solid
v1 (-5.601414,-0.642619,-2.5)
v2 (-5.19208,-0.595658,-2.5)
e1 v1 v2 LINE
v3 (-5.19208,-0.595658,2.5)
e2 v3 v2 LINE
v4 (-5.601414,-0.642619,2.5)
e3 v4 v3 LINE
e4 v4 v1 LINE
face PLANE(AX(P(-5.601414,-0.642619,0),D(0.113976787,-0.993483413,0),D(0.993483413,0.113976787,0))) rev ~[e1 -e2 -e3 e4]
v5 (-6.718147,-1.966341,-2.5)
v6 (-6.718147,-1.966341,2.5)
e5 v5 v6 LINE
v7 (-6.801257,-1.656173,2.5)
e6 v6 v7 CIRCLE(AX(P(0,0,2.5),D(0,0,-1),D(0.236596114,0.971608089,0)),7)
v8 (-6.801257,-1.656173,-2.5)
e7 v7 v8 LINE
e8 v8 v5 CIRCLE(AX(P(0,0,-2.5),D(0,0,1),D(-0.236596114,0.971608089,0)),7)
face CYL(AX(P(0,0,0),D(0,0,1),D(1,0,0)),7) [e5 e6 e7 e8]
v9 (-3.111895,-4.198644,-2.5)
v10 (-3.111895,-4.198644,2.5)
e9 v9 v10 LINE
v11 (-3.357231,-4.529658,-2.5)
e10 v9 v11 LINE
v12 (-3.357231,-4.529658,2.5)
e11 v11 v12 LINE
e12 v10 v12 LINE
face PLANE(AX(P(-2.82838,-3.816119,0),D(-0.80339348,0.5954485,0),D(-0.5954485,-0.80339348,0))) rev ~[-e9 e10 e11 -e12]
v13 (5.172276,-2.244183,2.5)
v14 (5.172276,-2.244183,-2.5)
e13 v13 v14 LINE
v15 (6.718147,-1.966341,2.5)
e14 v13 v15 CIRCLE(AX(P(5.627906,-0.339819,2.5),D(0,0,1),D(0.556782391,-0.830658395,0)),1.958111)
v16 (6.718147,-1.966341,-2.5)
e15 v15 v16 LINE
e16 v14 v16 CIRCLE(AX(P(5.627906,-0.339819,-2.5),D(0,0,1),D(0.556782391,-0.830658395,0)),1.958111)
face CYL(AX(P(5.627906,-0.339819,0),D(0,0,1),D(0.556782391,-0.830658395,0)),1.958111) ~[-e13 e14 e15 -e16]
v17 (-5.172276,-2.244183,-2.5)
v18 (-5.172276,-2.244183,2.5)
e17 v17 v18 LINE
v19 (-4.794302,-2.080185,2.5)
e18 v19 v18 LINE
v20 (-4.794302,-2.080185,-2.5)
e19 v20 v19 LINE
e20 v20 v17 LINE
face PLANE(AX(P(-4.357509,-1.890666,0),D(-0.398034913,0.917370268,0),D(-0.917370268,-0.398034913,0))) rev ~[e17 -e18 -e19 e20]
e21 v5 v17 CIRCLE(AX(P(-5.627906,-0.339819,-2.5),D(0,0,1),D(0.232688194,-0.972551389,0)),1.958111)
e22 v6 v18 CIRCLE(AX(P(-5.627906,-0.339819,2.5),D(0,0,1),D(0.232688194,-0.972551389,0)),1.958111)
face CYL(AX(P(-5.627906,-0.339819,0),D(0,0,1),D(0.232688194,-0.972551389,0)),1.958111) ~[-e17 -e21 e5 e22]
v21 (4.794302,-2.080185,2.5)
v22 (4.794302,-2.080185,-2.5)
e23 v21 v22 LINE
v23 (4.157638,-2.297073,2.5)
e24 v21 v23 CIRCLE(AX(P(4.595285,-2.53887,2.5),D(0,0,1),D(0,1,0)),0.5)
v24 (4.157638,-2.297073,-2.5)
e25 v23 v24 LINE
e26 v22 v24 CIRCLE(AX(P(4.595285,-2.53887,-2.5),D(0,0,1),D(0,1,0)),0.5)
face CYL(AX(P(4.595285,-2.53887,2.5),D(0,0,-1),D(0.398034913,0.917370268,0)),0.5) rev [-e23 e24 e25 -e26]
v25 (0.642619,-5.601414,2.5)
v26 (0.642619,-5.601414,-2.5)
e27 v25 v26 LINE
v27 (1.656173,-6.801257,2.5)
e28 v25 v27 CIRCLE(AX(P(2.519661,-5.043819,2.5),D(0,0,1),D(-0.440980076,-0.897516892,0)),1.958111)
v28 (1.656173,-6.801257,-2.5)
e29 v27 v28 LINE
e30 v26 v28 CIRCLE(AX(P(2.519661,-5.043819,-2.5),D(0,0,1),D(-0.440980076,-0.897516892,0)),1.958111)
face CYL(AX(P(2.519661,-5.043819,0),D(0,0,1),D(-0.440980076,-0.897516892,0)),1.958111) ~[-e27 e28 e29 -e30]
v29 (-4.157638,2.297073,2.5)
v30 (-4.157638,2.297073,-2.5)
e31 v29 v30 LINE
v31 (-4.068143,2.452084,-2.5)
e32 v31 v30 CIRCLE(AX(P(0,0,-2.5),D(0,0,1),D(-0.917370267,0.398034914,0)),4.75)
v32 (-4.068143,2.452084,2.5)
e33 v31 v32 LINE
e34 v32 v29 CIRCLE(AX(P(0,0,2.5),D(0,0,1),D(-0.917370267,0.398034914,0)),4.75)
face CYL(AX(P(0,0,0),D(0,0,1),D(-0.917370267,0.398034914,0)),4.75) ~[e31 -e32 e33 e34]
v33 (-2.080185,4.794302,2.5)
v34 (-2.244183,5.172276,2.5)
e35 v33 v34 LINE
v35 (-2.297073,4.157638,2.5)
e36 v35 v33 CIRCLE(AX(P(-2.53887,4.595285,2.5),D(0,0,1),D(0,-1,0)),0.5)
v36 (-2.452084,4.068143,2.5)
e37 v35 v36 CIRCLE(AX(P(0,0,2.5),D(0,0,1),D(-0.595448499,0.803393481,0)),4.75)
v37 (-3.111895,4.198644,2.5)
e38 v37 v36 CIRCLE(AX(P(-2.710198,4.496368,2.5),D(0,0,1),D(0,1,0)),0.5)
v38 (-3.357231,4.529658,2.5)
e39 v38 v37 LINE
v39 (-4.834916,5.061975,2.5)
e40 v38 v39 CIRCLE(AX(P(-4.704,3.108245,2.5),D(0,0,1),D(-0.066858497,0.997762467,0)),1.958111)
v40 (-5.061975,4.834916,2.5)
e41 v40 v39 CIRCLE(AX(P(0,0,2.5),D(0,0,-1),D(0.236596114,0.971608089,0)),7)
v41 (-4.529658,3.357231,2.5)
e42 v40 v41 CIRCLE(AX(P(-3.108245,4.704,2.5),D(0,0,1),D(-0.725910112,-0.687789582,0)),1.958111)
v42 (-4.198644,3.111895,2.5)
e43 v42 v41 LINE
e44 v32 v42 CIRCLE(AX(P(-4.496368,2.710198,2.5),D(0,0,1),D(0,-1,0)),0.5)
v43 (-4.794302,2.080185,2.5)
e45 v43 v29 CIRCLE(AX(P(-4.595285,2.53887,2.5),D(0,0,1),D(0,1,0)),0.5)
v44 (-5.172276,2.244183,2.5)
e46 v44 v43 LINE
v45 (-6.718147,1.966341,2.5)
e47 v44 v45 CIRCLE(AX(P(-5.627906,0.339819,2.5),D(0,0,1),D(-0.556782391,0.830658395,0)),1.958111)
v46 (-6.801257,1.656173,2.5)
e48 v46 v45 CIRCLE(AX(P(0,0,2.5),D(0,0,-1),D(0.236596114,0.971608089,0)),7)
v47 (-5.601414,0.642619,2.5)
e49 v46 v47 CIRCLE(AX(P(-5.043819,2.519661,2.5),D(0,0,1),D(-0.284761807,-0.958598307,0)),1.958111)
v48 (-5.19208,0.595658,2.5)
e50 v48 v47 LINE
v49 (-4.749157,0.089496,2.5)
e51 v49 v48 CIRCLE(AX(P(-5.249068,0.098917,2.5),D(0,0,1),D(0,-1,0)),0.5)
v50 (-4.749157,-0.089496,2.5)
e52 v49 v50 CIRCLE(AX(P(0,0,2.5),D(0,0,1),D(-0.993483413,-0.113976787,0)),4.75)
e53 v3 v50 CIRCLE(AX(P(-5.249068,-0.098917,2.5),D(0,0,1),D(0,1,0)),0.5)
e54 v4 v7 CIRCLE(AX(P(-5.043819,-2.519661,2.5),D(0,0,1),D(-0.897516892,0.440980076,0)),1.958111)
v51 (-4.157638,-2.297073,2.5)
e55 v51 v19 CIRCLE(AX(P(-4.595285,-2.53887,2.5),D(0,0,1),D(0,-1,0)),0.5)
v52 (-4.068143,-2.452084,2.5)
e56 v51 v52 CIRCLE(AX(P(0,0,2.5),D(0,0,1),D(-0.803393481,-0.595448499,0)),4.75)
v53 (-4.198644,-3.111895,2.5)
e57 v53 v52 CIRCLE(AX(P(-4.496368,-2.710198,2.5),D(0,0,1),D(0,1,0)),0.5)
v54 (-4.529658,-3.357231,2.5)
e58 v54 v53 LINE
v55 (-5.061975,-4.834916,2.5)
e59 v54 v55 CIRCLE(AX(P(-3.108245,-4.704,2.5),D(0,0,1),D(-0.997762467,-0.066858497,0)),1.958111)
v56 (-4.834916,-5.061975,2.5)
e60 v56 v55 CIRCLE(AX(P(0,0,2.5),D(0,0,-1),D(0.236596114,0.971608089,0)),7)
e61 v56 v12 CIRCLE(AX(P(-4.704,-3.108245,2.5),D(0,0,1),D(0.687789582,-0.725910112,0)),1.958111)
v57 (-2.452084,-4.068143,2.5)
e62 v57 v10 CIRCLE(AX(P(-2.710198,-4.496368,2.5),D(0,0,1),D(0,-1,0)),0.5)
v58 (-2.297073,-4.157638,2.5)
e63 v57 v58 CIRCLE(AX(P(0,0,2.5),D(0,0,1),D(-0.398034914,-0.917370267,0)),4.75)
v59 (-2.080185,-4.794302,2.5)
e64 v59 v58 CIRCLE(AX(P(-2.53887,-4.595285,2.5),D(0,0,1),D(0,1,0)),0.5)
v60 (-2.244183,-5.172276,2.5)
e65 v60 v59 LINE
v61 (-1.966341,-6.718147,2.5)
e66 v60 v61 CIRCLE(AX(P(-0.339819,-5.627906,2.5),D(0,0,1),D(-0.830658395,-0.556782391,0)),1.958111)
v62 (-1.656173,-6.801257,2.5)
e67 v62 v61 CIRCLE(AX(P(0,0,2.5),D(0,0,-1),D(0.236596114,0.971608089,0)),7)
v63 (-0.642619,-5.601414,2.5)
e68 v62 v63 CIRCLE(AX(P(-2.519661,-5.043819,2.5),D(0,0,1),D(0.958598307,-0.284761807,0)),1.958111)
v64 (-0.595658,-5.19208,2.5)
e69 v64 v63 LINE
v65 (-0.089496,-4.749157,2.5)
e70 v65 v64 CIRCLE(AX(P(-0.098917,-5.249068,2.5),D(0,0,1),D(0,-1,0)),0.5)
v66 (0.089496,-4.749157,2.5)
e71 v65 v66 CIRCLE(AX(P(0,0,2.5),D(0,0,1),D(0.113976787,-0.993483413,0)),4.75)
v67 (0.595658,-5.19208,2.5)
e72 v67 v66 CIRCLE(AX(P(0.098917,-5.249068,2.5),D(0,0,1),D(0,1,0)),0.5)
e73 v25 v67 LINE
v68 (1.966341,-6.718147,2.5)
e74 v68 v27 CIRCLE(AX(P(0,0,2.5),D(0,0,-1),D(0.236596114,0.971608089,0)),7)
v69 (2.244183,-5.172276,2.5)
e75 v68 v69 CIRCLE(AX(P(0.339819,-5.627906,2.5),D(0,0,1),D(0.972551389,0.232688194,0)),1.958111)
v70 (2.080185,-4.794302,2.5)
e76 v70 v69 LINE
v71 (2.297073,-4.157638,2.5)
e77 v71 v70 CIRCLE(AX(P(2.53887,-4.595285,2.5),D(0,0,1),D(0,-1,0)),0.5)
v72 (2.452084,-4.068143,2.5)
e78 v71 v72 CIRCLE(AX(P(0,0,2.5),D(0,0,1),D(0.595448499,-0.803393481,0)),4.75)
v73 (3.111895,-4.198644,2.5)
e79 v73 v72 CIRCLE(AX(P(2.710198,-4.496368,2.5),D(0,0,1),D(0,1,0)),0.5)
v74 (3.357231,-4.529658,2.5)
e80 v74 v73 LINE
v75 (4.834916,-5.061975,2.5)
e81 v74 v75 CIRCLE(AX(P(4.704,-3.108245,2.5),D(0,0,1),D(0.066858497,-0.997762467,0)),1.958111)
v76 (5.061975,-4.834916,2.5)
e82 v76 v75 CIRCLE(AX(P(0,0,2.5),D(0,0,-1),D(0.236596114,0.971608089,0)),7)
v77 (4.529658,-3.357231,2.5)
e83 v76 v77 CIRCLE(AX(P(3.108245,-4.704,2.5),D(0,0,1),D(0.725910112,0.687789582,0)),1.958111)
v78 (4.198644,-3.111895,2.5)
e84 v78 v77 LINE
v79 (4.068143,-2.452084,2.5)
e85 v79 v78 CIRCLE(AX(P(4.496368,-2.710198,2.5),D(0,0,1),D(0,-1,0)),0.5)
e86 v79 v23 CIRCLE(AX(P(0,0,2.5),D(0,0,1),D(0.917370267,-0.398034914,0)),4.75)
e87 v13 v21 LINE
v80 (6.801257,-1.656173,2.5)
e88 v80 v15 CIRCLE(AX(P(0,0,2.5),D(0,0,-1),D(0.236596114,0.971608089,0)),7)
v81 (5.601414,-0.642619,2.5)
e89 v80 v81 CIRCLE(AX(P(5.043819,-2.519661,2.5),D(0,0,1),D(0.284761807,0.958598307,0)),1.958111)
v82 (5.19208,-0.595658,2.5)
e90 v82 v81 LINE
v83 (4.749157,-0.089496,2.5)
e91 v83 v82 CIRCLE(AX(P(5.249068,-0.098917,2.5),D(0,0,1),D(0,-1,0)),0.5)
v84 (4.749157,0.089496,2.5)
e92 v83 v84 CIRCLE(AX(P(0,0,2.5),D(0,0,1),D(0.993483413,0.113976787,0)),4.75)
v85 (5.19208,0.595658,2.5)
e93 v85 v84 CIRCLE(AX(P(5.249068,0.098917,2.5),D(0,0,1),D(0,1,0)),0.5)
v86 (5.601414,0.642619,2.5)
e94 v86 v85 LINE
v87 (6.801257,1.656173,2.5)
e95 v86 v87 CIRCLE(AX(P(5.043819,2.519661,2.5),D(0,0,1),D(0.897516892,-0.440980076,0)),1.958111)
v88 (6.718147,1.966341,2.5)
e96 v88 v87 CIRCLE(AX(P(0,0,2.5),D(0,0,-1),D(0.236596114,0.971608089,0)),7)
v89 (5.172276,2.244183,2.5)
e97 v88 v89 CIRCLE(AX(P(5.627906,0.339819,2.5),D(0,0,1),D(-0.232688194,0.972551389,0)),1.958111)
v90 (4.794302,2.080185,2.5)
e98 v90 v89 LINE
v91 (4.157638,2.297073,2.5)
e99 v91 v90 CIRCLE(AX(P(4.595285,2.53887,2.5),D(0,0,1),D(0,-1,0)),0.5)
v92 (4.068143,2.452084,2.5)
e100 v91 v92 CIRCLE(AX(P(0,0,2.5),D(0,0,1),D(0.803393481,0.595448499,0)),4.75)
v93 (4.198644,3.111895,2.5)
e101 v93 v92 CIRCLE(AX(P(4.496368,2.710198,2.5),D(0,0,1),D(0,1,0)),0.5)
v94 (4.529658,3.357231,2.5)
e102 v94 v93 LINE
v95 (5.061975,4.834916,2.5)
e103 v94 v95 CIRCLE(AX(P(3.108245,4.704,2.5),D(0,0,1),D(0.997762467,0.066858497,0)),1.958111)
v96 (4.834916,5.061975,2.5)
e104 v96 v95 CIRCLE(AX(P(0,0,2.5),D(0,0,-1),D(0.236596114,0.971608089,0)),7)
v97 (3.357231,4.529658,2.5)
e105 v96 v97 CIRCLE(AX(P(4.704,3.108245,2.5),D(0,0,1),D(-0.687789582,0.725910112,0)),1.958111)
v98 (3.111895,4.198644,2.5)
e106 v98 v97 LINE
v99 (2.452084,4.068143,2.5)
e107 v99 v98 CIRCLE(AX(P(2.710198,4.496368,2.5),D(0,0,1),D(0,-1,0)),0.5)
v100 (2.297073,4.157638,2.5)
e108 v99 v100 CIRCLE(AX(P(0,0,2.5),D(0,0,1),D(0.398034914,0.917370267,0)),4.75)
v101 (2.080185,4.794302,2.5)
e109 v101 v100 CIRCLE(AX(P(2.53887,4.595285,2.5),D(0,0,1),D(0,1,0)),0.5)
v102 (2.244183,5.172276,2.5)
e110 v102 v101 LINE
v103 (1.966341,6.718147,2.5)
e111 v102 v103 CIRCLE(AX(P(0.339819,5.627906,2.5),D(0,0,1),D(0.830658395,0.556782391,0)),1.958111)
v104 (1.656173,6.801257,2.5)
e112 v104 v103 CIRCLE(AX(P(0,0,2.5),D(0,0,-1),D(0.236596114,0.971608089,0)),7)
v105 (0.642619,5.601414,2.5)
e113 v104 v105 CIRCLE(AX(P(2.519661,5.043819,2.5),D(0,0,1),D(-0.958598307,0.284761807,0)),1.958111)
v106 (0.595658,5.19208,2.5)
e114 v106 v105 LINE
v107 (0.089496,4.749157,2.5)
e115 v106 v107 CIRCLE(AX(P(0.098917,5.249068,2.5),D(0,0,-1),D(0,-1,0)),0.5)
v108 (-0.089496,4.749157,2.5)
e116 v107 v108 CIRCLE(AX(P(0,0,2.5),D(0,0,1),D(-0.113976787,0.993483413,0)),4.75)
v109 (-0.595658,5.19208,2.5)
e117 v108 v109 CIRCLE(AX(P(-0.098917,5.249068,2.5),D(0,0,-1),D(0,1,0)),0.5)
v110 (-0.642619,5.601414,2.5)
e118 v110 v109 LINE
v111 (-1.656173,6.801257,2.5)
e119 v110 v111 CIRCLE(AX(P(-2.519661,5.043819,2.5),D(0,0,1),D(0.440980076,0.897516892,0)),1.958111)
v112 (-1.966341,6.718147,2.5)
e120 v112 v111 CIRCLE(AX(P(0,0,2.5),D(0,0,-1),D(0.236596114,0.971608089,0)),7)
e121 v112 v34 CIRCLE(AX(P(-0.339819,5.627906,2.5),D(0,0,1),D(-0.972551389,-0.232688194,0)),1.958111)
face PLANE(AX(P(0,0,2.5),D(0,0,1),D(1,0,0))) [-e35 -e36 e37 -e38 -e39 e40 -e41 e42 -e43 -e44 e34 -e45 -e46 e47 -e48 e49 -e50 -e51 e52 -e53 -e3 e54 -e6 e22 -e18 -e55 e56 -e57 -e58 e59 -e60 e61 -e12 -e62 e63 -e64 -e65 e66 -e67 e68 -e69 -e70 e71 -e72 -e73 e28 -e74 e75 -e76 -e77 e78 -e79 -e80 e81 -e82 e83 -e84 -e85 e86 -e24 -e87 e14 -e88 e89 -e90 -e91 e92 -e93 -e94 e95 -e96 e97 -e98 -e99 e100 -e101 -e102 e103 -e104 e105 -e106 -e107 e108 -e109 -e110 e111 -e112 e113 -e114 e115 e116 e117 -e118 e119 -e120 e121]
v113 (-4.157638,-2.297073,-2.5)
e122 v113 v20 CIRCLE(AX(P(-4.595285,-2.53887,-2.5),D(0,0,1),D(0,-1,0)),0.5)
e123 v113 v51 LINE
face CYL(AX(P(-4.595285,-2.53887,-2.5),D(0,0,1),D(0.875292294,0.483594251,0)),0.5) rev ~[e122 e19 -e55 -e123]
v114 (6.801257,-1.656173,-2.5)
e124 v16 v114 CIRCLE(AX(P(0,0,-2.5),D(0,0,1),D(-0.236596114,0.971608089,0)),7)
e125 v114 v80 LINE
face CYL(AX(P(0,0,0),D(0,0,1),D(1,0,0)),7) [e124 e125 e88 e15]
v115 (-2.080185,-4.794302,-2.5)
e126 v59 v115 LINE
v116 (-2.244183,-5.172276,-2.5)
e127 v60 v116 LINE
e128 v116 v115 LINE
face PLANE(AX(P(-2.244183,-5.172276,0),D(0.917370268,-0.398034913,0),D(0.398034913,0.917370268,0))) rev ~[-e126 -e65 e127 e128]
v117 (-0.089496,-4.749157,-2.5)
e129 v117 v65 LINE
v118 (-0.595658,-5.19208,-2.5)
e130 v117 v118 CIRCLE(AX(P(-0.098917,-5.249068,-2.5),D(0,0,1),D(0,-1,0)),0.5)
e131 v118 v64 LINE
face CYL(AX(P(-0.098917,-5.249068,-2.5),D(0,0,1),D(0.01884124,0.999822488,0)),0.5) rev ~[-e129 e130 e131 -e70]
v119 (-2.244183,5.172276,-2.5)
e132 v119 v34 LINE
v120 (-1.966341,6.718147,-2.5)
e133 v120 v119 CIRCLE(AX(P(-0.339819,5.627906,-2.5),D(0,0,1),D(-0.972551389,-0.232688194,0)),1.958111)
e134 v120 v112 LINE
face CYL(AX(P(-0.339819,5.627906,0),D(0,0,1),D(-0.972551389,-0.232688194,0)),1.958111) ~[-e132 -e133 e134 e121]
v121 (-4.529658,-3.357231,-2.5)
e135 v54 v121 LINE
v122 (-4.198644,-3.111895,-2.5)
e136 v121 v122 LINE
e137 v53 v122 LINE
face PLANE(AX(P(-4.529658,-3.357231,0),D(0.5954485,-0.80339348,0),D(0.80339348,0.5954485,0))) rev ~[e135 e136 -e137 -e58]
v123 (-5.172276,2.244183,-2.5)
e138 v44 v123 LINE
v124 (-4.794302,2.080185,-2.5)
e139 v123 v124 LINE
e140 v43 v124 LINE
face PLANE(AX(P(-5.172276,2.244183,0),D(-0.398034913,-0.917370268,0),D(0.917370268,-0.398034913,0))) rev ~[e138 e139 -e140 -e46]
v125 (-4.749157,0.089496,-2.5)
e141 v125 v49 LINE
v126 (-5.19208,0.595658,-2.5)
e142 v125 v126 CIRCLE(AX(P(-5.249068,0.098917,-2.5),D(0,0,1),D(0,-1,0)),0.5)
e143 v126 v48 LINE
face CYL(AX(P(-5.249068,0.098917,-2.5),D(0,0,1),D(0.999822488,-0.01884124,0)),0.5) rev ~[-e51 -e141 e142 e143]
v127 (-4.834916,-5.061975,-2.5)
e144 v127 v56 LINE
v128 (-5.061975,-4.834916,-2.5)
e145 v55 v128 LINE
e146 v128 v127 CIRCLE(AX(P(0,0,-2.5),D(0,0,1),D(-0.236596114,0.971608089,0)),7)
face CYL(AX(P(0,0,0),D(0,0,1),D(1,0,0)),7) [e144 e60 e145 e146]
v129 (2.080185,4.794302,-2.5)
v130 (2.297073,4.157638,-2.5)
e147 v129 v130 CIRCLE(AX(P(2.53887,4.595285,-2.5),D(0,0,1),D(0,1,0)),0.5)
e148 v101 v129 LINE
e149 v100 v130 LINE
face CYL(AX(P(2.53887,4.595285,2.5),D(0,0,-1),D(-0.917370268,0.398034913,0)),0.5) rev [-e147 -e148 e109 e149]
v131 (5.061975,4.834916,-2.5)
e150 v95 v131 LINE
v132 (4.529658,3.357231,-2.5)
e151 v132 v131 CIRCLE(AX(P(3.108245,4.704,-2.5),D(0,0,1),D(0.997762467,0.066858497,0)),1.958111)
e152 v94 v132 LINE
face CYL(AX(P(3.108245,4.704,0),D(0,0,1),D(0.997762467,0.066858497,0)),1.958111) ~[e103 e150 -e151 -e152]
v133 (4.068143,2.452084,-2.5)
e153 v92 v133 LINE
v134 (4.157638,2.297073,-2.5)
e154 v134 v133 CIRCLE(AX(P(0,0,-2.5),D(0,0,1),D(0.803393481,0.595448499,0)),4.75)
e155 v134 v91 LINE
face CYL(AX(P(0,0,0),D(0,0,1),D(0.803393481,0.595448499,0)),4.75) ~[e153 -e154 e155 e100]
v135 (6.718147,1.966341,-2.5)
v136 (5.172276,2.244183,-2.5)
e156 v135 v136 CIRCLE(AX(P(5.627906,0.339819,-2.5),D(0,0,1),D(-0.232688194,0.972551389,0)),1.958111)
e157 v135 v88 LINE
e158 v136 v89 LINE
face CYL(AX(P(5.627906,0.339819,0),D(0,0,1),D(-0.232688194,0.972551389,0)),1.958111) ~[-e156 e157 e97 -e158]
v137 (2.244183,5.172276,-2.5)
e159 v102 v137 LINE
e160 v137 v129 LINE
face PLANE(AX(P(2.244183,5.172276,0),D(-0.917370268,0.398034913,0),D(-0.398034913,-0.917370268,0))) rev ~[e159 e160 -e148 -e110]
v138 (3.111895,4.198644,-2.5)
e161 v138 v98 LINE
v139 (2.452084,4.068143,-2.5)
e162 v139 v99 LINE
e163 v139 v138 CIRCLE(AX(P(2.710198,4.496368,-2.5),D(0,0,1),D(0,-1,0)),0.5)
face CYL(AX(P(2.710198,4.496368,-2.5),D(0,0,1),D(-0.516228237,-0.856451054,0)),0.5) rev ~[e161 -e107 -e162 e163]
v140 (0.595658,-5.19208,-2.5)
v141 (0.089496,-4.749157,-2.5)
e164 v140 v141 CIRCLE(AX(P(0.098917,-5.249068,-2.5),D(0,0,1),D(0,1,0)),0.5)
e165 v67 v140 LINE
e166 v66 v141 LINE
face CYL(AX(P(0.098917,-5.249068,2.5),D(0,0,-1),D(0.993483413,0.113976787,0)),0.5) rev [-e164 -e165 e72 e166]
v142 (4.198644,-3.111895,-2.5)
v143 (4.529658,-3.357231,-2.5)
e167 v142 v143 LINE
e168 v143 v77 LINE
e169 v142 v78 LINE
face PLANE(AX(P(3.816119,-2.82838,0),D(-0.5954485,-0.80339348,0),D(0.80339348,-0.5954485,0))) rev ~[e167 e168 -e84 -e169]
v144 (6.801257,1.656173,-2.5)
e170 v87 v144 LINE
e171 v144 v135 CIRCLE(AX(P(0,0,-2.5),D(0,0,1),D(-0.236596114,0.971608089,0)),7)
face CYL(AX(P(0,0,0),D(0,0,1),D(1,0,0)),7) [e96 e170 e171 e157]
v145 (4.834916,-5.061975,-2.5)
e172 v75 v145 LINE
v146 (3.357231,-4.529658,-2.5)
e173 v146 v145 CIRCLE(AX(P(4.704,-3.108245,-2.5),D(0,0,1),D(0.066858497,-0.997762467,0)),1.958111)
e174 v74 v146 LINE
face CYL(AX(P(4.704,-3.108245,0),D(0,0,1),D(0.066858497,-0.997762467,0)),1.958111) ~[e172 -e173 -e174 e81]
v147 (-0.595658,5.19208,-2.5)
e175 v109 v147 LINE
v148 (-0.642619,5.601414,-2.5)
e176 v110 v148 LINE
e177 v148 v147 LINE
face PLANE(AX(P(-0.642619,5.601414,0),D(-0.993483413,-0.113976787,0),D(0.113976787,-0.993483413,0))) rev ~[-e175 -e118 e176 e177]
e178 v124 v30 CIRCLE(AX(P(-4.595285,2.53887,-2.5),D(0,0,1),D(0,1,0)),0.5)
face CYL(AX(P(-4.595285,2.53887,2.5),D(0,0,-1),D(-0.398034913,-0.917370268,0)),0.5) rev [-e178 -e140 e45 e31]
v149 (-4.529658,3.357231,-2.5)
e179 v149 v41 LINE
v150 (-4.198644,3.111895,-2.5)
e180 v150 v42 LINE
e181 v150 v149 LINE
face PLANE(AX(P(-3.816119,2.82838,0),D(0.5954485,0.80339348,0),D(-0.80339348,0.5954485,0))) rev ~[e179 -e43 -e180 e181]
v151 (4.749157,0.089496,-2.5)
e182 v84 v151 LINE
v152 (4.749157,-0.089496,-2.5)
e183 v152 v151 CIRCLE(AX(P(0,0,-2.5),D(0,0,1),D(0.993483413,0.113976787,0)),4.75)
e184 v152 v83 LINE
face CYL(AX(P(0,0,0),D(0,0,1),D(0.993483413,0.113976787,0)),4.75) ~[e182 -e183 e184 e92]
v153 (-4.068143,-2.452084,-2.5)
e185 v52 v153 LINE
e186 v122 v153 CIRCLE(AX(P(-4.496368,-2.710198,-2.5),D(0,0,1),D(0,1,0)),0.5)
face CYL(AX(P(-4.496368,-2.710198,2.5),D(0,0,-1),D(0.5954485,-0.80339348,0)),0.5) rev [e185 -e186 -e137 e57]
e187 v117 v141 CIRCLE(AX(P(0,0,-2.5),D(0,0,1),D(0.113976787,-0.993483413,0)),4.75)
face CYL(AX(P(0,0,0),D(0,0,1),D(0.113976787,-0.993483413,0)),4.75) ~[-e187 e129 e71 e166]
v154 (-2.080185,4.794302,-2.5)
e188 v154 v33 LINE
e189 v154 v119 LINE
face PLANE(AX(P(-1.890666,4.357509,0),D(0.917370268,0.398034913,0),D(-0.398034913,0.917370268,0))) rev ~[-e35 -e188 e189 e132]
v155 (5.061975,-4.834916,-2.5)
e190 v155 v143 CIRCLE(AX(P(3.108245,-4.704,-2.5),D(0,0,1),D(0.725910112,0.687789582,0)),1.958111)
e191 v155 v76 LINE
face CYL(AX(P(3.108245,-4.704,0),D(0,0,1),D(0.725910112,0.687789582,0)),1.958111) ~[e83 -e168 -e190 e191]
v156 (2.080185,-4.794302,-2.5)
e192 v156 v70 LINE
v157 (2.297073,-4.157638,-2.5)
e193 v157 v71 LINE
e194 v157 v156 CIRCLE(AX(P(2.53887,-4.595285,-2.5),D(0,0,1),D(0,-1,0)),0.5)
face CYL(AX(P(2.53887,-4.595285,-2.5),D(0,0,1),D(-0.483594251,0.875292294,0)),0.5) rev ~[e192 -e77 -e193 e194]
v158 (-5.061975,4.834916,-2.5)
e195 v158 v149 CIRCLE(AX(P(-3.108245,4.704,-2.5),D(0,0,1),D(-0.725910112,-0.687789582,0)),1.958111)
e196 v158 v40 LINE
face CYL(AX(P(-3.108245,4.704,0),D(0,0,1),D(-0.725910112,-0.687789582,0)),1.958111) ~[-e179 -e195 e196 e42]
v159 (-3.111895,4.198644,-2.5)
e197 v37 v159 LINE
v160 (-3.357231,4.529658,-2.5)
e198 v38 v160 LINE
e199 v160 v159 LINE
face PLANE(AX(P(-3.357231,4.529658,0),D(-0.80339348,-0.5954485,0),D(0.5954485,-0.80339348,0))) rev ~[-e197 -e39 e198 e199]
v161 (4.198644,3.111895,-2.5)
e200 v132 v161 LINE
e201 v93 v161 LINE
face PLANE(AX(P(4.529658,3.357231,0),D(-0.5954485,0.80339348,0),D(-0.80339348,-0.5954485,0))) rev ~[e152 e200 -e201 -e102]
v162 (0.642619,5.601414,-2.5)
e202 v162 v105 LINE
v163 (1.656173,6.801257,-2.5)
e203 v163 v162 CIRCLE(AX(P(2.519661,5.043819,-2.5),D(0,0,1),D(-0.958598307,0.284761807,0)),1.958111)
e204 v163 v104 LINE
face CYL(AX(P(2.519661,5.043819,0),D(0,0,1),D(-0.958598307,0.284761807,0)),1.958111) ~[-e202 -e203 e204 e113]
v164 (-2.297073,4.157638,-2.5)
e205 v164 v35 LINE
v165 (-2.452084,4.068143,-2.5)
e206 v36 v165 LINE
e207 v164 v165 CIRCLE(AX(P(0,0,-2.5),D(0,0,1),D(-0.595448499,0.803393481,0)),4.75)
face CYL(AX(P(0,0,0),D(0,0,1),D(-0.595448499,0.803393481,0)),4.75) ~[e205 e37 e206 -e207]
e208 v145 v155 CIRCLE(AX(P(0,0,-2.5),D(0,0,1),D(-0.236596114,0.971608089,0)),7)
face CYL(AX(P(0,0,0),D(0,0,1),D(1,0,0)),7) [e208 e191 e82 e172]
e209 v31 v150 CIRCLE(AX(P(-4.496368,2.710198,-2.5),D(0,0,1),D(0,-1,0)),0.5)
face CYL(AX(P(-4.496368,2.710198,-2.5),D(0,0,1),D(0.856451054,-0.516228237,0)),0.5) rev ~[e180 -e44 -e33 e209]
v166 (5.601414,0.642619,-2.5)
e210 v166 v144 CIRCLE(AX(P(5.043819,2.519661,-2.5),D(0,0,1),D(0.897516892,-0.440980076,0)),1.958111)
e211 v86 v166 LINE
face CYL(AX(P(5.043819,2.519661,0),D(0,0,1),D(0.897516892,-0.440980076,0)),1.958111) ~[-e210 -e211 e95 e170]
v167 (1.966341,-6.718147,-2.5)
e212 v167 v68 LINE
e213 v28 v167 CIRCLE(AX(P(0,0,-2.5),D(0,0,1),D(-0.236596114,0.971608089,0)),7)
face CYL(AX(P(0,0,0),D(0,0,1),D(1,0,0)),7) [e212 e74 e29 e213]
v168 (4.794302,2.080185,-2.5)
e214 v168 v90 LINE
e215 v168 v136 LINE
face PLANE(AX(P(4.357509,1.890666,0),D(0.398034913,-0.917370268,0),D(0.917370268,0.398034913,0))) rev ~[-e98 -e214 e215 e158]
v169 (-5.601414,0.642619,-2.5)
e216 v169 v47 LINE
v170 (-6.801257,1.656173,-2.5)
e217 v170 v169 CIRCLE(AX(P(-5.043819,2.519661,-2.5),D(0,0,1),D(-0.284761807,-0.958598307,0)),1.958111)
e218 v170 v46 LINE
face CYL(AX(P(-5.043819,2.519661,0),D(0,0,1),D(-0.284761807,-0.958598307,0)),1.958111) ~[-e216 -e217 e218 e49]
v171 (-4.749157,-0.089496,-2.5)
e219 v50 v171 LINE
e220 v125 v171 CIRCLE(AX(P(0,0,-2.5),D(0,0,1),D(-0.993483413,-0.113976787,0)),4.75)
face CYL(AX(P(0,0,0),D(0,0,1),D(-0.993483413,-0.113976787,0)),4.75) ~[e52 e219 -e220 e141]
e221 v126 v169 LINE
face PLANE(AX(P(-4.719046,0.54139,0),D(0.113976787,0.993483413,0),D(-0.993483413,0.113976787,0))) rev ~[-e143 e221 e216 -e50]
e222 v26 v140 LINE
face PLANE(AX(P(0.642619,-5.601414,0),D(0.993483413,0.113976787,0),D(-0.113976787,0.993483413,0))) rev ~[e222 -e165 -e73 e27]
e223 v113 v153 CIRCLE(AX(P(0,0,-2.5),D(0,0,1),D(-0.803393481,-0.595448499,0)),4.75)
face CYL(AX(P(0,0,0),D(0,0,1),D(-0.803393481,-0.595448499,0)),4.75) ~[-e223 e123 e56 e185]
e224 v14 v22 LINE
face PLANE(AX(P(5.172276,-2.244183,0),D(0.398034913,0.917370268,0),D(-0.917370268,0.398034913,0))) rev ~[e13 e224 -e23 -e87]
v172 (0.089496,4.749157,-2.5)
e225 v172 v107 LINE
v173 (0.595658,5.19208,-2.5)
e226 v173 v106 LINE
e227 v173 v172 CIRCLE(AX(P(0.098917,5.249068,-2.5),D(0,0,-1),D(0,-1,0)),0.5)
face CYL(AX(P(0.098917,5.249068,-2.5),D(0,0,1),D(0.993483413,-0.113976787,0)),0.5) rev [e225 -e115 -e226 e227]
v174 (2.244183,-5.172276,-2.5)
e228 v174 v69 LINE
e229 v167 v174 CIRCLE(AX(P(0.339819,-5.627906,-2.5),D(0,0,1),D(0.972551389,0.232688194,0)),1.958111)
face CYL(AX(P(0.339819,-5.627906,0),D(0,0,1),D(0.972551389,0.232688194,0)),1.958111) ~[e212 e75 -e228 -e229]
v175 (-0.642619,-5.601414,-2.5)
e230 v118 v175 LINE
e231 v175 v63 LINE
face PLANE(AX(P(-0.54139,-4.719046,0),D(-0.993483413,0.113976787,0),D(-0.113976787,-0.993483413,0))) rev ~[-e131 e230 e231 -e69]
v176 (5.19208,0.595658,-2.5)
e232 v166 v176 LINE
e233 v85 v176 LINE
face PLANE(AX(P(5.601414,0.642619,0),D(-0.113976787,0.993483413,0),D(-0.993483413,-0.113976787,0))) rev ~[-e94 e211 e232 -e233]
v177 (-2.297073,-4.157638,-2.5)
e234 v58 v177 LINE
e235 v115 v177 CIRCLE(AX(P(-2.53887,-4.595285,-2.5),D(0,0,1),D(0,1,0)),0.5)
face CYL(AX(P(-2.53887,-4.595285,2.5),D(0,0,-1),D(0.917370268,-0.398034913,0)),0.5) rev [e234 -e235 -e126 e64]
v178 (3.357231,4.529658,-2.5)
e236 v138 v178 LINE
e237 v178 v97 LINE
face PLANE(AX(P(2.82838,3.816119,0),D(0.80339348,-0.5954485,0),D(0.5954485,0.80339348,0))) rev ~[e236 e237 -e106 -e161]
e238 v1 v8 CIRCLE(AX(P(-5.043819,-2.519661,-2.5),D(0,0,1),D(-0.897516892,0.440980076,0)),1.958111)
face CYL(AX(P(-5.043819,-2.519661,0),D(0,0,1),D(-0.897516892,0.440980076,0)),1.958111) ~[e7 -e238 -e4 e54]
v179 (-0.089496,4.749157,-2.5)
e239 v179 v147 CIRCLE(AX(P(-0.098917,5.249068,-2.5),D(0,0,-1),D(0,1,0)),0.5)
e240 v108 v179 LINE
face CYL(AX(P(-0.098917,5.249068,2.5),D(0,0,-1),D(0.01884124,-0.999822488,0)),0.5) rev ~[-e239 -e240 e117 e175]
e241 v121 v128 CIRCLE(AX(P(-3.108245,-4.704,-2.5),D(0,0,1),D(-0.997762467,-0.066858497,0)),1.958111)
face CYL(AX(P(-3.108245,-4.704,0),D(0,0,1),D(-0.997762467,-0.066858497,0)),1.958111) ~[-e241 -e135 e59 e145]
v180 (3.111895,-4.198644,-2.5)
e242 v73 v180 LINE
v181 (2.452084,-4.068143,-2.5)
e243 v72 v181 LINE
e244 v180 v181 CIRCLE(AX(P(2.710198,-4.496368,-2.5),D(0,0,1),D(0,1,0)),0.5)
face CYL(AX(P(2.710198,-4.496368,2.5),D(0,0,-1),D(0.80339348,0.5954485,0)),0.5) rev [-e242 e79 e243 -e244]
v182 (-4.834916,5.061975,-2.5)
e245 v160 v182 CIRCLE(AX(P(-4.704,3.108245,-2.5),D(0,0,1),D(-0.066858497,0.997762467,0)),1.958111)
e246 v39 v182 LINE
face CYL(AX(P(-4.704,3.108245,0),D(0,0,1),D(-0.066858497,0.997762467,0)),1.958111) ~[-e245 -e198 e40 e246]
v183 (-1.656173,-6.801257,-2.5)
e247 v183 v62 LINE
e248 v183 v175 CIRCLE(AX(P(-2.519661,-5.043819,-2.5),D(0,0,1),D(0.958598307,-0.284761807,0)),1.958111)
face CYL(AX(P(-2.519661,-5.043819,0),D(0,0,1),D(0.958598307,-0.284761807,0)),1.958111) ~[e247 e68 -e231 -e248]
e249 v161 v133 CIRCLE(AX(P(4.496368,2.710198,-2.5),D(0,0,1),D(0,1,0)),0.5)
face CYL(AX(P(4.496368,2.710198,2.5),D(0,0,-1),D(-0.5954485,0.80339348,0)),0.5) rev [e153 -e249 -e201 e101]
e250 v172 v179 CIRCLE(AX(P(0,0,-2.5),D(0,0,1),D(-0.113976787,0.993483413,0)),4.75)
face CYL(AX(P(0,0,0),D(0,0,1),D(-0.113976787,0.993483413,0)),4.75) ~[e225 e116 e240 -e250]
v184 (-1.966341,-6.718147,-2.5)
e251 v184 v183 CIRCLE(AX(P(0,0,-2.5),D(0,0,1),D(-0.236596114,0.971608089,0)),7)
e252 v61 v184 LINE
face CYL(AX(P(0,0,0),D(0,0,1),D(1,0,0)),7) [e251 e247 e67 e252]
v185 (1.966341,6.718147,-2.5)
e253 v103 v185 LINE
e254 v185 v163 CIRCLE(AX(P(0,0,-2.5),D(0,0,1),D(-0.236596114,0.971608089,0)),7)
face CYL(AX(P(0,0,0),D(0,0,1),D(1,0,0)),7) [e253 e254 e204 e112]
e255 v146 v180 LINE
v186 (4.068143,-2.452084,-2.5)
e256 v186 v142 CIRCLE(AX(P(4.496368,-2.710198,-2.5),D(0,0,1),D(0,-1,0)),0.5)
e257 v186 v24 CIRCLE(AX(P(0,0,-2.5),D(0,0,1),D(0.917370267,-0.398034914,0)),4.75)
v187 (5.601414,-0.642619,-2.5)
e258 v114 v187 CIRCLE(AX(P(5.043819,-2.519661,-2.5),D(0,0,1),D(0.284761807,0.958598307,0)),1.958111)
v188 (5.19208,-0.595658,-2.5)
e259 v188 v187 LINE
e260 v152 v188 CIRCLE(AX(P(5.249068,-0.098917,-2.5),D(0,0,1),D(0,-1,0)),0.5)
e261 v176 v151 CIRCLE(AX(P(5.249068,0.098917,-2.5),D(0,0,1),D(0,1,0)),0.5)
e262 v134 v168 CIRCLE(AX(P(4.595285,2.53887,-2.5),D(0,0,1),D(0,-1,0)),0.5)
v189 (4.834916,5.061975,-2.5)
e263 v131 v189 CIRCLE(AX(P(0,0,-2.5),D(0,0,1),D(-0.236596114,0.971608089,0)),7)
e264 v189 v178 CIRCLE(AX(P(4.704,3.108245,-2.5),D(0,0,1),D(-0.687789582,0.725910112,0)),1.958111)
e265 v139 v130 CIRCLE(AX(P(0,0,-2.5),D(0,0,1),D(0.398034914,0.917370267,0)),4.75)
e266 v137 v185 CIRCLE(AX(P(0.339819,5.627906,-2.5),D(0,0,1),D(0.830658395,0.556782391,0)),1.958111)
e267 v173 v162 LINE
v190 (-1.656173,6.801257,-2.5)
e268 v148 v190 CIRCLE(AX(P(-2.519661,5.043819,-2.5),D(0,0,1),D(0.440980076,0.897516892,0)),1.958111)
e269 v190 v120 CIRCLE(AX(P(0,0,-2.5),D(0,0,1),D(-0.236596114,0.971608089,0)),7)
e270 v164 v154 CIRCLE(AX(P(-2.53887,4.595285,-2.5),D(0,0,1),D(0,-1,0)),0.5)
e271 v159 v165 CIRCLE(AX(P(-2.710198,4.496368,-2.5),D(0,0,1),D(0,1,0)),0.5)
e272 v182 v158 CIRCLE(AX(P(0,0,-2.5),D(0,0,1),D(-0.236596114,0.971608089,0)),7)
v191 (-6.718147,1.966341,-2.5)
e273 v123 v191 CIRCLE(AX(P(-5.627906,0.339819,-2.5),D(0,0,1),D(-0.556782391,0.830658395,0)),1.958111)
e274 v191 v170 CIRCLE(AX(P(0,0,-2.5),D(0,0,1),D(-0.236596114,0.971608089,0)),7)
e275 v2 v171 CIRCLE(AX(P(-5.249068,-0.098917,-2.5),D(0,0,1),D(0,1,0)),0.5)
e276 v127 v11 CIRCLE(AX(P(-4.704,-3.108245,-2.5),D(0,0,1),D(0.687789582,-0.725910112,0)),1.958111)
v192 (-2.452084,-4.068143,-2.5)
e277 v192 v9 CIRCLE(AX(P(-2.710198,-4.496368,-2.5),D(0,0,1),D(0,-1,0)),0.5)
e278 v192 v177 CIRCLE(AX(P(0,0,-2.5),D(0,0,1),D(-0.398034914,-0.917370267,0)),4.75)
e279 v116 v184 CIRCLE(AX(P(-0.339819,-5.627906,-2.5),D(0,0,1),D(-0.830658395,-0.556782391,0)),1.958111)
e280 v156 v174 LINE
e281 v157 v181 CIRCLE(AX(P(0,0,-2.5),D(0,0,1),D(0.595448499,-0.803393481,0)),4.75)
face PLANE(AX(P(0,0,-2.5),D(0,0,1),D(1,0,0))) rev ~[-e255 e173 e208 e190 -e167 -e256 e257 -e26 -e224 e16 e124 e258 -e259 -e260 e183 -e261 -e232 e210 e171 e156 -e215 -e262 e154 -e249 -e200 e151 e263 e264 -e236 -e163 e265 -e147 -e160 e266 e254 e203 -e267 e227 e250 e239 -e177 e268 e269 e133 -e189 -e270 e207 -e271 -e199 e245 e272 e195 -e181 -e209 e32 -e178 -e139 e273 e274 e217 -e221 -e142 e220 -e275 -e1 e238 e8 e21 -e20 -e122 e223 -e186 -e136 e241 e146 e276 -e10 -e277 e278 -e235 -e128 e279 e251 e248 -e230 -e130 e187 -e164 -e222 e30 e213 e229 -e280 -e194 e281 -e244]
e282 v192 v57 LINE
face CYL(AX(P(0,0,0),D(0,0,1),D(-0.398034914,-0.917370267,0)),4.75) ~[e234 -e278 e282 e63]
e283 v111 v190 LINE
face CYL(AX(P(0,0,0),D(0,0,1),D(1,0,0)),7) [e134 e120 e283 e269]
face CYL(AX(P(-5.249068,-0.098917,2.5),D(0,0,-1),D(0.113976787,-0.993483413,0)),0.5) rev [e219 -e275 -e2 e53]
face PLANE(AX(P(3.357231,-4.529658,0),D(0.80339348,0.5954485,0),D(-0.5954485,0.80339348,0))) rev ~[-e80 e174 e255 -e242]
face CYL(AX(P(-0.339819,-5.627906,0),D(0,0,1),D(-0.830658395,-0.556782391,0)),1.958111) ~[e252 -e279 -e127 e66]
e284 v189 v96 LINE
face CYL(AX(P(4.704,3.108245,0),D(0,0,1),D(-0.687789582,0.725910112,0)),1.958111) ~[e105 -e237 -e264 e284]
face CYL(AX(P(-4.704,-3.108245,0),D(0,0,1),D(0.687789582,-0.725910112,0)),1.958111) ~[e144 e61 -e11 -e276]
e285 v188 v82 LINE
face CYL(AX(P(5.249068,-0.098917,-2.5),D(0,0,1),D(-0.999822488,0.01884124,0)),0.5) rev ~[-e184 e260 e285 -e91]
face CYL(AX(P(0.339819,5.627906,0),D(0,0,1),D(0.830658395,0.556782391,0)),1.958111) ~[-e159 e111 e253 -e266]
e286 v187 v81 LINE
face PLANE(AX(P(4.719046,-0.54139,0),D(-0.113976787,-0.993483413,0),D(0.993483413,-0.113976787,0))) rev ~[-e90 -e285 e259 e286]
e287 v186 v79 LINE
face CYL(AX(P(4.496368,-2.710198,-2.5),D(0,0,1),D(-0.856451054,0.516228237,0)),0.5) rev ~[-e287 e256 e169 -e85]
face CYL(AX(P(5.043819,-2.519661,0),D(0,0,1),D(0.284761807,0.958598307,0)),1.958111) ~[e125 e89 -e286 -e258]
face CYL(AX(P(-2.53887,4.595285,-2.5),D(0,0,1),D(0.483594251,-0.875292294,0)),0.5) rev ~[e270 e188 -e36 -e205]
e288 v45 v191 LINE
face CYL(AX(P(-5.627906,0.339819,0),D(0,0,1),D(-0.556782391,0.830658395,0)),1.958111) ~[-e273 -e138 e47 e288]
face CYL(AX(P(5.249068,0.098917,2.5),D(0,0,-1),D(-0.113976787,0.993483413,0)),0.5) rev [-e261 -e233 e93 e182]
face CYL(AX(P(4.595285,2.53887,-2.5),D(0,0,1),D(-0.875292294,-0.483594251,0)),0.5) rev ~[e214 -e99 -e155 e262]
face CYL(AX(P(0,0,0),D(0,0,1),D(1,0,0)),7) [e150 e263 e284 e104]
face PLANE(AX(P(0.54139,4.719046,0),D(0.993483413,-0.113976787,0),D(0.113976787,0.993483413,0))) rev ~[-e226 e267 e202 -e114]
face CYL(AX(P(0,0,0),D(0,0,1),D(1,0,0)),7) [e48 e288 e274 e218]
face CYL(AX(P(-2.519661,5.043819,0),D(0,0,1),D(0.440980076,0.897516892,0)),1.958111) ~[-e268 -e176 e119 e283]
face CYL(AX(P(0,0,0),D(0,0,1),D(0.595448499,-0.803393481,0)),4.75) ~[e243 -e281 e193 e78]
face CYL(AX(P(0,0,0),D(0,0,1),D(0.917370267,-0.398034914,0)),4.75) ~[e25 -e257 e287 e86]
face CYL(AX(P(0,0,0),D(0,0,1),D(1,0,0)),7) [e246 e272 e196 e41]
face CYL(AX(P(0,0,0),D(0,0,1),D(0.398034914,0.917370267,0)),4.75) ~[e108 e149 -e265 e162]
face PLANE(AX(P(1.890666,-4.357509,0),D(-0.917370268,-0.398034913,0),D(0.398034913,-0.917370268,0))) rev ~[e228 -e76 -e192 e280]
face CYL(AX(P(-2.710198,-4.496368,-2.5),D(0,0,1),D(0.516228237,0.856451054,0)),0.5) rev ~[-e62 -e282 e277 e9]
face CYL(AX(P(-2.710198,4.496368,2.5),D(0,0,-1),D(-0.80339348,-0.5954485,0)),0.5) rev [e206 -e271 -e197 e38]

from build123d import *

# Parameters (mm, degrees)
SKETCH1_R                                = 7
DA_CIRCLE_DEPTH                          = 2.5
ONE_TEETH_DEPTH                          = 11.210288928
FILLET_FOR_HIGH_R                        = 0.5
CIRPATTERN_FOR_HIGH_COUNT                = 12
FILLET_FOR_HIGH_OF_CIRPATTERN_FOR_HIGH_R = 0.5


with BuildPart() as part:
    # Sketch1 → Da_circle (new, symmetric)
    with BuildSketch(Plane.XY):
        Circle(SKETCH1_R)
    extrude(amount=DA_CIRCLE_DEPTH, both=True)

    # Sketch → one_teeth (cut, symmetric)
    with BuildSketch(Plane.XY):
        with BuildLine():
            ThreePointArc((-0.54138974, 4.719046212), (0, 4.75), (0.54138974, 4.719046212))
            Line((0.54138974, 4.719046212), (0.642618876, 5.601414192))
            ThreePointArc((0.642618876, 5.601414192), (0.704564548, 5.778410288), (0.783157153, 5.948669168))
            ThreePointArc((0.783157153, 5.948669168), (1.15155426, 6.444705558), (1.656172795, 6.801256625))
            ThreePointArc((1.656172795, 6.801256625), (0, 7), (-1.656172795, 6.801256625))
            ThreePointArc((-1.656172795, 6.801256625), (-1.02382272, 6.30741194), (-0.642618876, 5.601414192))
            Line((-0.642618876, 5.601414192), (-0.54138974, 4.719046212))
        make_face()
    one_teeth = extrude(amount=ONE_TEETH_DEPTH, both=True, mode=Mode.SUBTRACT)

    # Fillet_for_high
    fillet_for_high_edges = [part.edges().sort_by_distance(p)[0] for p in [
        (-0.54138974, 4.719046212, 0),
        (0.54138974, 4.719046212, 0),
    ]]
    fillet(fillet_for_high_edges, radius=FILLET_FOR_HIGH_R)

    # CirPattern_for_high: one_teeth ×12 about axis
    cirpattern_for_high_axis = Axis((0, 0, 2.5), (0, 0, -1))
    for i in range(1, CIRPATTERN_FOR_HIGH_COUNT):
        add(one_teeth.rotate(cirpattern_for_high_axis, i * 360 / CIRPATTERN_FOR_HIGH_COUNT), mode=Mode.SUBTRACT)

    # Fillet_for_high of CirPattern_for_high
    fillet_for_high_of_cirpattern_for_high_edges = [part.edges().sort_by_distance(p)[0] for p in [
        (1.890665838, 4.357508771, 0),
        (2.828380374, 3.816119031, 0),
        (3.816119031, 2.828380374, 0),
        (4.357508771, 1.890665838, 0),
        (4.719046212, 0.54138974, 0),
        (4.719046212, -0.54138974, 0),
        (4.357508771, -1.890665838, 0),
        (3.816119031, -2.828380374, 0),
        (2.828380374, -3.816119031, 0),
        (1.890665838, -4.357508771, 0),
        (0.54138974, -4.719046212, 0),
        (-0.54138974, -4.719046212, 0),
        (-1.890665838, -4.357508771, 0),
        (-2.828380374, -3.816119031, 0),
        (-3.816119031, -2.828380374, 0),
        (-4.357508771, -1.890665838, 0),
        (-4.719046212, -0.54138974, 0),
        (-4.719046212, 0.54138974, 0),
        (-4.357508771, 1.890665838, 0),
        (-3.816119031, 2.828380374, 0),
        (-2.828380374, 3.816119031, 0),
        (-1.890665838, 4.357508771, 0),
    ]]
    fillet(fillet_for_high_of_cirpattern_for_high_edges, radius=FILLET_FOR_HIGH_OF_CIRPATTERN_FOR_HIGH_R)


solid = part.part
